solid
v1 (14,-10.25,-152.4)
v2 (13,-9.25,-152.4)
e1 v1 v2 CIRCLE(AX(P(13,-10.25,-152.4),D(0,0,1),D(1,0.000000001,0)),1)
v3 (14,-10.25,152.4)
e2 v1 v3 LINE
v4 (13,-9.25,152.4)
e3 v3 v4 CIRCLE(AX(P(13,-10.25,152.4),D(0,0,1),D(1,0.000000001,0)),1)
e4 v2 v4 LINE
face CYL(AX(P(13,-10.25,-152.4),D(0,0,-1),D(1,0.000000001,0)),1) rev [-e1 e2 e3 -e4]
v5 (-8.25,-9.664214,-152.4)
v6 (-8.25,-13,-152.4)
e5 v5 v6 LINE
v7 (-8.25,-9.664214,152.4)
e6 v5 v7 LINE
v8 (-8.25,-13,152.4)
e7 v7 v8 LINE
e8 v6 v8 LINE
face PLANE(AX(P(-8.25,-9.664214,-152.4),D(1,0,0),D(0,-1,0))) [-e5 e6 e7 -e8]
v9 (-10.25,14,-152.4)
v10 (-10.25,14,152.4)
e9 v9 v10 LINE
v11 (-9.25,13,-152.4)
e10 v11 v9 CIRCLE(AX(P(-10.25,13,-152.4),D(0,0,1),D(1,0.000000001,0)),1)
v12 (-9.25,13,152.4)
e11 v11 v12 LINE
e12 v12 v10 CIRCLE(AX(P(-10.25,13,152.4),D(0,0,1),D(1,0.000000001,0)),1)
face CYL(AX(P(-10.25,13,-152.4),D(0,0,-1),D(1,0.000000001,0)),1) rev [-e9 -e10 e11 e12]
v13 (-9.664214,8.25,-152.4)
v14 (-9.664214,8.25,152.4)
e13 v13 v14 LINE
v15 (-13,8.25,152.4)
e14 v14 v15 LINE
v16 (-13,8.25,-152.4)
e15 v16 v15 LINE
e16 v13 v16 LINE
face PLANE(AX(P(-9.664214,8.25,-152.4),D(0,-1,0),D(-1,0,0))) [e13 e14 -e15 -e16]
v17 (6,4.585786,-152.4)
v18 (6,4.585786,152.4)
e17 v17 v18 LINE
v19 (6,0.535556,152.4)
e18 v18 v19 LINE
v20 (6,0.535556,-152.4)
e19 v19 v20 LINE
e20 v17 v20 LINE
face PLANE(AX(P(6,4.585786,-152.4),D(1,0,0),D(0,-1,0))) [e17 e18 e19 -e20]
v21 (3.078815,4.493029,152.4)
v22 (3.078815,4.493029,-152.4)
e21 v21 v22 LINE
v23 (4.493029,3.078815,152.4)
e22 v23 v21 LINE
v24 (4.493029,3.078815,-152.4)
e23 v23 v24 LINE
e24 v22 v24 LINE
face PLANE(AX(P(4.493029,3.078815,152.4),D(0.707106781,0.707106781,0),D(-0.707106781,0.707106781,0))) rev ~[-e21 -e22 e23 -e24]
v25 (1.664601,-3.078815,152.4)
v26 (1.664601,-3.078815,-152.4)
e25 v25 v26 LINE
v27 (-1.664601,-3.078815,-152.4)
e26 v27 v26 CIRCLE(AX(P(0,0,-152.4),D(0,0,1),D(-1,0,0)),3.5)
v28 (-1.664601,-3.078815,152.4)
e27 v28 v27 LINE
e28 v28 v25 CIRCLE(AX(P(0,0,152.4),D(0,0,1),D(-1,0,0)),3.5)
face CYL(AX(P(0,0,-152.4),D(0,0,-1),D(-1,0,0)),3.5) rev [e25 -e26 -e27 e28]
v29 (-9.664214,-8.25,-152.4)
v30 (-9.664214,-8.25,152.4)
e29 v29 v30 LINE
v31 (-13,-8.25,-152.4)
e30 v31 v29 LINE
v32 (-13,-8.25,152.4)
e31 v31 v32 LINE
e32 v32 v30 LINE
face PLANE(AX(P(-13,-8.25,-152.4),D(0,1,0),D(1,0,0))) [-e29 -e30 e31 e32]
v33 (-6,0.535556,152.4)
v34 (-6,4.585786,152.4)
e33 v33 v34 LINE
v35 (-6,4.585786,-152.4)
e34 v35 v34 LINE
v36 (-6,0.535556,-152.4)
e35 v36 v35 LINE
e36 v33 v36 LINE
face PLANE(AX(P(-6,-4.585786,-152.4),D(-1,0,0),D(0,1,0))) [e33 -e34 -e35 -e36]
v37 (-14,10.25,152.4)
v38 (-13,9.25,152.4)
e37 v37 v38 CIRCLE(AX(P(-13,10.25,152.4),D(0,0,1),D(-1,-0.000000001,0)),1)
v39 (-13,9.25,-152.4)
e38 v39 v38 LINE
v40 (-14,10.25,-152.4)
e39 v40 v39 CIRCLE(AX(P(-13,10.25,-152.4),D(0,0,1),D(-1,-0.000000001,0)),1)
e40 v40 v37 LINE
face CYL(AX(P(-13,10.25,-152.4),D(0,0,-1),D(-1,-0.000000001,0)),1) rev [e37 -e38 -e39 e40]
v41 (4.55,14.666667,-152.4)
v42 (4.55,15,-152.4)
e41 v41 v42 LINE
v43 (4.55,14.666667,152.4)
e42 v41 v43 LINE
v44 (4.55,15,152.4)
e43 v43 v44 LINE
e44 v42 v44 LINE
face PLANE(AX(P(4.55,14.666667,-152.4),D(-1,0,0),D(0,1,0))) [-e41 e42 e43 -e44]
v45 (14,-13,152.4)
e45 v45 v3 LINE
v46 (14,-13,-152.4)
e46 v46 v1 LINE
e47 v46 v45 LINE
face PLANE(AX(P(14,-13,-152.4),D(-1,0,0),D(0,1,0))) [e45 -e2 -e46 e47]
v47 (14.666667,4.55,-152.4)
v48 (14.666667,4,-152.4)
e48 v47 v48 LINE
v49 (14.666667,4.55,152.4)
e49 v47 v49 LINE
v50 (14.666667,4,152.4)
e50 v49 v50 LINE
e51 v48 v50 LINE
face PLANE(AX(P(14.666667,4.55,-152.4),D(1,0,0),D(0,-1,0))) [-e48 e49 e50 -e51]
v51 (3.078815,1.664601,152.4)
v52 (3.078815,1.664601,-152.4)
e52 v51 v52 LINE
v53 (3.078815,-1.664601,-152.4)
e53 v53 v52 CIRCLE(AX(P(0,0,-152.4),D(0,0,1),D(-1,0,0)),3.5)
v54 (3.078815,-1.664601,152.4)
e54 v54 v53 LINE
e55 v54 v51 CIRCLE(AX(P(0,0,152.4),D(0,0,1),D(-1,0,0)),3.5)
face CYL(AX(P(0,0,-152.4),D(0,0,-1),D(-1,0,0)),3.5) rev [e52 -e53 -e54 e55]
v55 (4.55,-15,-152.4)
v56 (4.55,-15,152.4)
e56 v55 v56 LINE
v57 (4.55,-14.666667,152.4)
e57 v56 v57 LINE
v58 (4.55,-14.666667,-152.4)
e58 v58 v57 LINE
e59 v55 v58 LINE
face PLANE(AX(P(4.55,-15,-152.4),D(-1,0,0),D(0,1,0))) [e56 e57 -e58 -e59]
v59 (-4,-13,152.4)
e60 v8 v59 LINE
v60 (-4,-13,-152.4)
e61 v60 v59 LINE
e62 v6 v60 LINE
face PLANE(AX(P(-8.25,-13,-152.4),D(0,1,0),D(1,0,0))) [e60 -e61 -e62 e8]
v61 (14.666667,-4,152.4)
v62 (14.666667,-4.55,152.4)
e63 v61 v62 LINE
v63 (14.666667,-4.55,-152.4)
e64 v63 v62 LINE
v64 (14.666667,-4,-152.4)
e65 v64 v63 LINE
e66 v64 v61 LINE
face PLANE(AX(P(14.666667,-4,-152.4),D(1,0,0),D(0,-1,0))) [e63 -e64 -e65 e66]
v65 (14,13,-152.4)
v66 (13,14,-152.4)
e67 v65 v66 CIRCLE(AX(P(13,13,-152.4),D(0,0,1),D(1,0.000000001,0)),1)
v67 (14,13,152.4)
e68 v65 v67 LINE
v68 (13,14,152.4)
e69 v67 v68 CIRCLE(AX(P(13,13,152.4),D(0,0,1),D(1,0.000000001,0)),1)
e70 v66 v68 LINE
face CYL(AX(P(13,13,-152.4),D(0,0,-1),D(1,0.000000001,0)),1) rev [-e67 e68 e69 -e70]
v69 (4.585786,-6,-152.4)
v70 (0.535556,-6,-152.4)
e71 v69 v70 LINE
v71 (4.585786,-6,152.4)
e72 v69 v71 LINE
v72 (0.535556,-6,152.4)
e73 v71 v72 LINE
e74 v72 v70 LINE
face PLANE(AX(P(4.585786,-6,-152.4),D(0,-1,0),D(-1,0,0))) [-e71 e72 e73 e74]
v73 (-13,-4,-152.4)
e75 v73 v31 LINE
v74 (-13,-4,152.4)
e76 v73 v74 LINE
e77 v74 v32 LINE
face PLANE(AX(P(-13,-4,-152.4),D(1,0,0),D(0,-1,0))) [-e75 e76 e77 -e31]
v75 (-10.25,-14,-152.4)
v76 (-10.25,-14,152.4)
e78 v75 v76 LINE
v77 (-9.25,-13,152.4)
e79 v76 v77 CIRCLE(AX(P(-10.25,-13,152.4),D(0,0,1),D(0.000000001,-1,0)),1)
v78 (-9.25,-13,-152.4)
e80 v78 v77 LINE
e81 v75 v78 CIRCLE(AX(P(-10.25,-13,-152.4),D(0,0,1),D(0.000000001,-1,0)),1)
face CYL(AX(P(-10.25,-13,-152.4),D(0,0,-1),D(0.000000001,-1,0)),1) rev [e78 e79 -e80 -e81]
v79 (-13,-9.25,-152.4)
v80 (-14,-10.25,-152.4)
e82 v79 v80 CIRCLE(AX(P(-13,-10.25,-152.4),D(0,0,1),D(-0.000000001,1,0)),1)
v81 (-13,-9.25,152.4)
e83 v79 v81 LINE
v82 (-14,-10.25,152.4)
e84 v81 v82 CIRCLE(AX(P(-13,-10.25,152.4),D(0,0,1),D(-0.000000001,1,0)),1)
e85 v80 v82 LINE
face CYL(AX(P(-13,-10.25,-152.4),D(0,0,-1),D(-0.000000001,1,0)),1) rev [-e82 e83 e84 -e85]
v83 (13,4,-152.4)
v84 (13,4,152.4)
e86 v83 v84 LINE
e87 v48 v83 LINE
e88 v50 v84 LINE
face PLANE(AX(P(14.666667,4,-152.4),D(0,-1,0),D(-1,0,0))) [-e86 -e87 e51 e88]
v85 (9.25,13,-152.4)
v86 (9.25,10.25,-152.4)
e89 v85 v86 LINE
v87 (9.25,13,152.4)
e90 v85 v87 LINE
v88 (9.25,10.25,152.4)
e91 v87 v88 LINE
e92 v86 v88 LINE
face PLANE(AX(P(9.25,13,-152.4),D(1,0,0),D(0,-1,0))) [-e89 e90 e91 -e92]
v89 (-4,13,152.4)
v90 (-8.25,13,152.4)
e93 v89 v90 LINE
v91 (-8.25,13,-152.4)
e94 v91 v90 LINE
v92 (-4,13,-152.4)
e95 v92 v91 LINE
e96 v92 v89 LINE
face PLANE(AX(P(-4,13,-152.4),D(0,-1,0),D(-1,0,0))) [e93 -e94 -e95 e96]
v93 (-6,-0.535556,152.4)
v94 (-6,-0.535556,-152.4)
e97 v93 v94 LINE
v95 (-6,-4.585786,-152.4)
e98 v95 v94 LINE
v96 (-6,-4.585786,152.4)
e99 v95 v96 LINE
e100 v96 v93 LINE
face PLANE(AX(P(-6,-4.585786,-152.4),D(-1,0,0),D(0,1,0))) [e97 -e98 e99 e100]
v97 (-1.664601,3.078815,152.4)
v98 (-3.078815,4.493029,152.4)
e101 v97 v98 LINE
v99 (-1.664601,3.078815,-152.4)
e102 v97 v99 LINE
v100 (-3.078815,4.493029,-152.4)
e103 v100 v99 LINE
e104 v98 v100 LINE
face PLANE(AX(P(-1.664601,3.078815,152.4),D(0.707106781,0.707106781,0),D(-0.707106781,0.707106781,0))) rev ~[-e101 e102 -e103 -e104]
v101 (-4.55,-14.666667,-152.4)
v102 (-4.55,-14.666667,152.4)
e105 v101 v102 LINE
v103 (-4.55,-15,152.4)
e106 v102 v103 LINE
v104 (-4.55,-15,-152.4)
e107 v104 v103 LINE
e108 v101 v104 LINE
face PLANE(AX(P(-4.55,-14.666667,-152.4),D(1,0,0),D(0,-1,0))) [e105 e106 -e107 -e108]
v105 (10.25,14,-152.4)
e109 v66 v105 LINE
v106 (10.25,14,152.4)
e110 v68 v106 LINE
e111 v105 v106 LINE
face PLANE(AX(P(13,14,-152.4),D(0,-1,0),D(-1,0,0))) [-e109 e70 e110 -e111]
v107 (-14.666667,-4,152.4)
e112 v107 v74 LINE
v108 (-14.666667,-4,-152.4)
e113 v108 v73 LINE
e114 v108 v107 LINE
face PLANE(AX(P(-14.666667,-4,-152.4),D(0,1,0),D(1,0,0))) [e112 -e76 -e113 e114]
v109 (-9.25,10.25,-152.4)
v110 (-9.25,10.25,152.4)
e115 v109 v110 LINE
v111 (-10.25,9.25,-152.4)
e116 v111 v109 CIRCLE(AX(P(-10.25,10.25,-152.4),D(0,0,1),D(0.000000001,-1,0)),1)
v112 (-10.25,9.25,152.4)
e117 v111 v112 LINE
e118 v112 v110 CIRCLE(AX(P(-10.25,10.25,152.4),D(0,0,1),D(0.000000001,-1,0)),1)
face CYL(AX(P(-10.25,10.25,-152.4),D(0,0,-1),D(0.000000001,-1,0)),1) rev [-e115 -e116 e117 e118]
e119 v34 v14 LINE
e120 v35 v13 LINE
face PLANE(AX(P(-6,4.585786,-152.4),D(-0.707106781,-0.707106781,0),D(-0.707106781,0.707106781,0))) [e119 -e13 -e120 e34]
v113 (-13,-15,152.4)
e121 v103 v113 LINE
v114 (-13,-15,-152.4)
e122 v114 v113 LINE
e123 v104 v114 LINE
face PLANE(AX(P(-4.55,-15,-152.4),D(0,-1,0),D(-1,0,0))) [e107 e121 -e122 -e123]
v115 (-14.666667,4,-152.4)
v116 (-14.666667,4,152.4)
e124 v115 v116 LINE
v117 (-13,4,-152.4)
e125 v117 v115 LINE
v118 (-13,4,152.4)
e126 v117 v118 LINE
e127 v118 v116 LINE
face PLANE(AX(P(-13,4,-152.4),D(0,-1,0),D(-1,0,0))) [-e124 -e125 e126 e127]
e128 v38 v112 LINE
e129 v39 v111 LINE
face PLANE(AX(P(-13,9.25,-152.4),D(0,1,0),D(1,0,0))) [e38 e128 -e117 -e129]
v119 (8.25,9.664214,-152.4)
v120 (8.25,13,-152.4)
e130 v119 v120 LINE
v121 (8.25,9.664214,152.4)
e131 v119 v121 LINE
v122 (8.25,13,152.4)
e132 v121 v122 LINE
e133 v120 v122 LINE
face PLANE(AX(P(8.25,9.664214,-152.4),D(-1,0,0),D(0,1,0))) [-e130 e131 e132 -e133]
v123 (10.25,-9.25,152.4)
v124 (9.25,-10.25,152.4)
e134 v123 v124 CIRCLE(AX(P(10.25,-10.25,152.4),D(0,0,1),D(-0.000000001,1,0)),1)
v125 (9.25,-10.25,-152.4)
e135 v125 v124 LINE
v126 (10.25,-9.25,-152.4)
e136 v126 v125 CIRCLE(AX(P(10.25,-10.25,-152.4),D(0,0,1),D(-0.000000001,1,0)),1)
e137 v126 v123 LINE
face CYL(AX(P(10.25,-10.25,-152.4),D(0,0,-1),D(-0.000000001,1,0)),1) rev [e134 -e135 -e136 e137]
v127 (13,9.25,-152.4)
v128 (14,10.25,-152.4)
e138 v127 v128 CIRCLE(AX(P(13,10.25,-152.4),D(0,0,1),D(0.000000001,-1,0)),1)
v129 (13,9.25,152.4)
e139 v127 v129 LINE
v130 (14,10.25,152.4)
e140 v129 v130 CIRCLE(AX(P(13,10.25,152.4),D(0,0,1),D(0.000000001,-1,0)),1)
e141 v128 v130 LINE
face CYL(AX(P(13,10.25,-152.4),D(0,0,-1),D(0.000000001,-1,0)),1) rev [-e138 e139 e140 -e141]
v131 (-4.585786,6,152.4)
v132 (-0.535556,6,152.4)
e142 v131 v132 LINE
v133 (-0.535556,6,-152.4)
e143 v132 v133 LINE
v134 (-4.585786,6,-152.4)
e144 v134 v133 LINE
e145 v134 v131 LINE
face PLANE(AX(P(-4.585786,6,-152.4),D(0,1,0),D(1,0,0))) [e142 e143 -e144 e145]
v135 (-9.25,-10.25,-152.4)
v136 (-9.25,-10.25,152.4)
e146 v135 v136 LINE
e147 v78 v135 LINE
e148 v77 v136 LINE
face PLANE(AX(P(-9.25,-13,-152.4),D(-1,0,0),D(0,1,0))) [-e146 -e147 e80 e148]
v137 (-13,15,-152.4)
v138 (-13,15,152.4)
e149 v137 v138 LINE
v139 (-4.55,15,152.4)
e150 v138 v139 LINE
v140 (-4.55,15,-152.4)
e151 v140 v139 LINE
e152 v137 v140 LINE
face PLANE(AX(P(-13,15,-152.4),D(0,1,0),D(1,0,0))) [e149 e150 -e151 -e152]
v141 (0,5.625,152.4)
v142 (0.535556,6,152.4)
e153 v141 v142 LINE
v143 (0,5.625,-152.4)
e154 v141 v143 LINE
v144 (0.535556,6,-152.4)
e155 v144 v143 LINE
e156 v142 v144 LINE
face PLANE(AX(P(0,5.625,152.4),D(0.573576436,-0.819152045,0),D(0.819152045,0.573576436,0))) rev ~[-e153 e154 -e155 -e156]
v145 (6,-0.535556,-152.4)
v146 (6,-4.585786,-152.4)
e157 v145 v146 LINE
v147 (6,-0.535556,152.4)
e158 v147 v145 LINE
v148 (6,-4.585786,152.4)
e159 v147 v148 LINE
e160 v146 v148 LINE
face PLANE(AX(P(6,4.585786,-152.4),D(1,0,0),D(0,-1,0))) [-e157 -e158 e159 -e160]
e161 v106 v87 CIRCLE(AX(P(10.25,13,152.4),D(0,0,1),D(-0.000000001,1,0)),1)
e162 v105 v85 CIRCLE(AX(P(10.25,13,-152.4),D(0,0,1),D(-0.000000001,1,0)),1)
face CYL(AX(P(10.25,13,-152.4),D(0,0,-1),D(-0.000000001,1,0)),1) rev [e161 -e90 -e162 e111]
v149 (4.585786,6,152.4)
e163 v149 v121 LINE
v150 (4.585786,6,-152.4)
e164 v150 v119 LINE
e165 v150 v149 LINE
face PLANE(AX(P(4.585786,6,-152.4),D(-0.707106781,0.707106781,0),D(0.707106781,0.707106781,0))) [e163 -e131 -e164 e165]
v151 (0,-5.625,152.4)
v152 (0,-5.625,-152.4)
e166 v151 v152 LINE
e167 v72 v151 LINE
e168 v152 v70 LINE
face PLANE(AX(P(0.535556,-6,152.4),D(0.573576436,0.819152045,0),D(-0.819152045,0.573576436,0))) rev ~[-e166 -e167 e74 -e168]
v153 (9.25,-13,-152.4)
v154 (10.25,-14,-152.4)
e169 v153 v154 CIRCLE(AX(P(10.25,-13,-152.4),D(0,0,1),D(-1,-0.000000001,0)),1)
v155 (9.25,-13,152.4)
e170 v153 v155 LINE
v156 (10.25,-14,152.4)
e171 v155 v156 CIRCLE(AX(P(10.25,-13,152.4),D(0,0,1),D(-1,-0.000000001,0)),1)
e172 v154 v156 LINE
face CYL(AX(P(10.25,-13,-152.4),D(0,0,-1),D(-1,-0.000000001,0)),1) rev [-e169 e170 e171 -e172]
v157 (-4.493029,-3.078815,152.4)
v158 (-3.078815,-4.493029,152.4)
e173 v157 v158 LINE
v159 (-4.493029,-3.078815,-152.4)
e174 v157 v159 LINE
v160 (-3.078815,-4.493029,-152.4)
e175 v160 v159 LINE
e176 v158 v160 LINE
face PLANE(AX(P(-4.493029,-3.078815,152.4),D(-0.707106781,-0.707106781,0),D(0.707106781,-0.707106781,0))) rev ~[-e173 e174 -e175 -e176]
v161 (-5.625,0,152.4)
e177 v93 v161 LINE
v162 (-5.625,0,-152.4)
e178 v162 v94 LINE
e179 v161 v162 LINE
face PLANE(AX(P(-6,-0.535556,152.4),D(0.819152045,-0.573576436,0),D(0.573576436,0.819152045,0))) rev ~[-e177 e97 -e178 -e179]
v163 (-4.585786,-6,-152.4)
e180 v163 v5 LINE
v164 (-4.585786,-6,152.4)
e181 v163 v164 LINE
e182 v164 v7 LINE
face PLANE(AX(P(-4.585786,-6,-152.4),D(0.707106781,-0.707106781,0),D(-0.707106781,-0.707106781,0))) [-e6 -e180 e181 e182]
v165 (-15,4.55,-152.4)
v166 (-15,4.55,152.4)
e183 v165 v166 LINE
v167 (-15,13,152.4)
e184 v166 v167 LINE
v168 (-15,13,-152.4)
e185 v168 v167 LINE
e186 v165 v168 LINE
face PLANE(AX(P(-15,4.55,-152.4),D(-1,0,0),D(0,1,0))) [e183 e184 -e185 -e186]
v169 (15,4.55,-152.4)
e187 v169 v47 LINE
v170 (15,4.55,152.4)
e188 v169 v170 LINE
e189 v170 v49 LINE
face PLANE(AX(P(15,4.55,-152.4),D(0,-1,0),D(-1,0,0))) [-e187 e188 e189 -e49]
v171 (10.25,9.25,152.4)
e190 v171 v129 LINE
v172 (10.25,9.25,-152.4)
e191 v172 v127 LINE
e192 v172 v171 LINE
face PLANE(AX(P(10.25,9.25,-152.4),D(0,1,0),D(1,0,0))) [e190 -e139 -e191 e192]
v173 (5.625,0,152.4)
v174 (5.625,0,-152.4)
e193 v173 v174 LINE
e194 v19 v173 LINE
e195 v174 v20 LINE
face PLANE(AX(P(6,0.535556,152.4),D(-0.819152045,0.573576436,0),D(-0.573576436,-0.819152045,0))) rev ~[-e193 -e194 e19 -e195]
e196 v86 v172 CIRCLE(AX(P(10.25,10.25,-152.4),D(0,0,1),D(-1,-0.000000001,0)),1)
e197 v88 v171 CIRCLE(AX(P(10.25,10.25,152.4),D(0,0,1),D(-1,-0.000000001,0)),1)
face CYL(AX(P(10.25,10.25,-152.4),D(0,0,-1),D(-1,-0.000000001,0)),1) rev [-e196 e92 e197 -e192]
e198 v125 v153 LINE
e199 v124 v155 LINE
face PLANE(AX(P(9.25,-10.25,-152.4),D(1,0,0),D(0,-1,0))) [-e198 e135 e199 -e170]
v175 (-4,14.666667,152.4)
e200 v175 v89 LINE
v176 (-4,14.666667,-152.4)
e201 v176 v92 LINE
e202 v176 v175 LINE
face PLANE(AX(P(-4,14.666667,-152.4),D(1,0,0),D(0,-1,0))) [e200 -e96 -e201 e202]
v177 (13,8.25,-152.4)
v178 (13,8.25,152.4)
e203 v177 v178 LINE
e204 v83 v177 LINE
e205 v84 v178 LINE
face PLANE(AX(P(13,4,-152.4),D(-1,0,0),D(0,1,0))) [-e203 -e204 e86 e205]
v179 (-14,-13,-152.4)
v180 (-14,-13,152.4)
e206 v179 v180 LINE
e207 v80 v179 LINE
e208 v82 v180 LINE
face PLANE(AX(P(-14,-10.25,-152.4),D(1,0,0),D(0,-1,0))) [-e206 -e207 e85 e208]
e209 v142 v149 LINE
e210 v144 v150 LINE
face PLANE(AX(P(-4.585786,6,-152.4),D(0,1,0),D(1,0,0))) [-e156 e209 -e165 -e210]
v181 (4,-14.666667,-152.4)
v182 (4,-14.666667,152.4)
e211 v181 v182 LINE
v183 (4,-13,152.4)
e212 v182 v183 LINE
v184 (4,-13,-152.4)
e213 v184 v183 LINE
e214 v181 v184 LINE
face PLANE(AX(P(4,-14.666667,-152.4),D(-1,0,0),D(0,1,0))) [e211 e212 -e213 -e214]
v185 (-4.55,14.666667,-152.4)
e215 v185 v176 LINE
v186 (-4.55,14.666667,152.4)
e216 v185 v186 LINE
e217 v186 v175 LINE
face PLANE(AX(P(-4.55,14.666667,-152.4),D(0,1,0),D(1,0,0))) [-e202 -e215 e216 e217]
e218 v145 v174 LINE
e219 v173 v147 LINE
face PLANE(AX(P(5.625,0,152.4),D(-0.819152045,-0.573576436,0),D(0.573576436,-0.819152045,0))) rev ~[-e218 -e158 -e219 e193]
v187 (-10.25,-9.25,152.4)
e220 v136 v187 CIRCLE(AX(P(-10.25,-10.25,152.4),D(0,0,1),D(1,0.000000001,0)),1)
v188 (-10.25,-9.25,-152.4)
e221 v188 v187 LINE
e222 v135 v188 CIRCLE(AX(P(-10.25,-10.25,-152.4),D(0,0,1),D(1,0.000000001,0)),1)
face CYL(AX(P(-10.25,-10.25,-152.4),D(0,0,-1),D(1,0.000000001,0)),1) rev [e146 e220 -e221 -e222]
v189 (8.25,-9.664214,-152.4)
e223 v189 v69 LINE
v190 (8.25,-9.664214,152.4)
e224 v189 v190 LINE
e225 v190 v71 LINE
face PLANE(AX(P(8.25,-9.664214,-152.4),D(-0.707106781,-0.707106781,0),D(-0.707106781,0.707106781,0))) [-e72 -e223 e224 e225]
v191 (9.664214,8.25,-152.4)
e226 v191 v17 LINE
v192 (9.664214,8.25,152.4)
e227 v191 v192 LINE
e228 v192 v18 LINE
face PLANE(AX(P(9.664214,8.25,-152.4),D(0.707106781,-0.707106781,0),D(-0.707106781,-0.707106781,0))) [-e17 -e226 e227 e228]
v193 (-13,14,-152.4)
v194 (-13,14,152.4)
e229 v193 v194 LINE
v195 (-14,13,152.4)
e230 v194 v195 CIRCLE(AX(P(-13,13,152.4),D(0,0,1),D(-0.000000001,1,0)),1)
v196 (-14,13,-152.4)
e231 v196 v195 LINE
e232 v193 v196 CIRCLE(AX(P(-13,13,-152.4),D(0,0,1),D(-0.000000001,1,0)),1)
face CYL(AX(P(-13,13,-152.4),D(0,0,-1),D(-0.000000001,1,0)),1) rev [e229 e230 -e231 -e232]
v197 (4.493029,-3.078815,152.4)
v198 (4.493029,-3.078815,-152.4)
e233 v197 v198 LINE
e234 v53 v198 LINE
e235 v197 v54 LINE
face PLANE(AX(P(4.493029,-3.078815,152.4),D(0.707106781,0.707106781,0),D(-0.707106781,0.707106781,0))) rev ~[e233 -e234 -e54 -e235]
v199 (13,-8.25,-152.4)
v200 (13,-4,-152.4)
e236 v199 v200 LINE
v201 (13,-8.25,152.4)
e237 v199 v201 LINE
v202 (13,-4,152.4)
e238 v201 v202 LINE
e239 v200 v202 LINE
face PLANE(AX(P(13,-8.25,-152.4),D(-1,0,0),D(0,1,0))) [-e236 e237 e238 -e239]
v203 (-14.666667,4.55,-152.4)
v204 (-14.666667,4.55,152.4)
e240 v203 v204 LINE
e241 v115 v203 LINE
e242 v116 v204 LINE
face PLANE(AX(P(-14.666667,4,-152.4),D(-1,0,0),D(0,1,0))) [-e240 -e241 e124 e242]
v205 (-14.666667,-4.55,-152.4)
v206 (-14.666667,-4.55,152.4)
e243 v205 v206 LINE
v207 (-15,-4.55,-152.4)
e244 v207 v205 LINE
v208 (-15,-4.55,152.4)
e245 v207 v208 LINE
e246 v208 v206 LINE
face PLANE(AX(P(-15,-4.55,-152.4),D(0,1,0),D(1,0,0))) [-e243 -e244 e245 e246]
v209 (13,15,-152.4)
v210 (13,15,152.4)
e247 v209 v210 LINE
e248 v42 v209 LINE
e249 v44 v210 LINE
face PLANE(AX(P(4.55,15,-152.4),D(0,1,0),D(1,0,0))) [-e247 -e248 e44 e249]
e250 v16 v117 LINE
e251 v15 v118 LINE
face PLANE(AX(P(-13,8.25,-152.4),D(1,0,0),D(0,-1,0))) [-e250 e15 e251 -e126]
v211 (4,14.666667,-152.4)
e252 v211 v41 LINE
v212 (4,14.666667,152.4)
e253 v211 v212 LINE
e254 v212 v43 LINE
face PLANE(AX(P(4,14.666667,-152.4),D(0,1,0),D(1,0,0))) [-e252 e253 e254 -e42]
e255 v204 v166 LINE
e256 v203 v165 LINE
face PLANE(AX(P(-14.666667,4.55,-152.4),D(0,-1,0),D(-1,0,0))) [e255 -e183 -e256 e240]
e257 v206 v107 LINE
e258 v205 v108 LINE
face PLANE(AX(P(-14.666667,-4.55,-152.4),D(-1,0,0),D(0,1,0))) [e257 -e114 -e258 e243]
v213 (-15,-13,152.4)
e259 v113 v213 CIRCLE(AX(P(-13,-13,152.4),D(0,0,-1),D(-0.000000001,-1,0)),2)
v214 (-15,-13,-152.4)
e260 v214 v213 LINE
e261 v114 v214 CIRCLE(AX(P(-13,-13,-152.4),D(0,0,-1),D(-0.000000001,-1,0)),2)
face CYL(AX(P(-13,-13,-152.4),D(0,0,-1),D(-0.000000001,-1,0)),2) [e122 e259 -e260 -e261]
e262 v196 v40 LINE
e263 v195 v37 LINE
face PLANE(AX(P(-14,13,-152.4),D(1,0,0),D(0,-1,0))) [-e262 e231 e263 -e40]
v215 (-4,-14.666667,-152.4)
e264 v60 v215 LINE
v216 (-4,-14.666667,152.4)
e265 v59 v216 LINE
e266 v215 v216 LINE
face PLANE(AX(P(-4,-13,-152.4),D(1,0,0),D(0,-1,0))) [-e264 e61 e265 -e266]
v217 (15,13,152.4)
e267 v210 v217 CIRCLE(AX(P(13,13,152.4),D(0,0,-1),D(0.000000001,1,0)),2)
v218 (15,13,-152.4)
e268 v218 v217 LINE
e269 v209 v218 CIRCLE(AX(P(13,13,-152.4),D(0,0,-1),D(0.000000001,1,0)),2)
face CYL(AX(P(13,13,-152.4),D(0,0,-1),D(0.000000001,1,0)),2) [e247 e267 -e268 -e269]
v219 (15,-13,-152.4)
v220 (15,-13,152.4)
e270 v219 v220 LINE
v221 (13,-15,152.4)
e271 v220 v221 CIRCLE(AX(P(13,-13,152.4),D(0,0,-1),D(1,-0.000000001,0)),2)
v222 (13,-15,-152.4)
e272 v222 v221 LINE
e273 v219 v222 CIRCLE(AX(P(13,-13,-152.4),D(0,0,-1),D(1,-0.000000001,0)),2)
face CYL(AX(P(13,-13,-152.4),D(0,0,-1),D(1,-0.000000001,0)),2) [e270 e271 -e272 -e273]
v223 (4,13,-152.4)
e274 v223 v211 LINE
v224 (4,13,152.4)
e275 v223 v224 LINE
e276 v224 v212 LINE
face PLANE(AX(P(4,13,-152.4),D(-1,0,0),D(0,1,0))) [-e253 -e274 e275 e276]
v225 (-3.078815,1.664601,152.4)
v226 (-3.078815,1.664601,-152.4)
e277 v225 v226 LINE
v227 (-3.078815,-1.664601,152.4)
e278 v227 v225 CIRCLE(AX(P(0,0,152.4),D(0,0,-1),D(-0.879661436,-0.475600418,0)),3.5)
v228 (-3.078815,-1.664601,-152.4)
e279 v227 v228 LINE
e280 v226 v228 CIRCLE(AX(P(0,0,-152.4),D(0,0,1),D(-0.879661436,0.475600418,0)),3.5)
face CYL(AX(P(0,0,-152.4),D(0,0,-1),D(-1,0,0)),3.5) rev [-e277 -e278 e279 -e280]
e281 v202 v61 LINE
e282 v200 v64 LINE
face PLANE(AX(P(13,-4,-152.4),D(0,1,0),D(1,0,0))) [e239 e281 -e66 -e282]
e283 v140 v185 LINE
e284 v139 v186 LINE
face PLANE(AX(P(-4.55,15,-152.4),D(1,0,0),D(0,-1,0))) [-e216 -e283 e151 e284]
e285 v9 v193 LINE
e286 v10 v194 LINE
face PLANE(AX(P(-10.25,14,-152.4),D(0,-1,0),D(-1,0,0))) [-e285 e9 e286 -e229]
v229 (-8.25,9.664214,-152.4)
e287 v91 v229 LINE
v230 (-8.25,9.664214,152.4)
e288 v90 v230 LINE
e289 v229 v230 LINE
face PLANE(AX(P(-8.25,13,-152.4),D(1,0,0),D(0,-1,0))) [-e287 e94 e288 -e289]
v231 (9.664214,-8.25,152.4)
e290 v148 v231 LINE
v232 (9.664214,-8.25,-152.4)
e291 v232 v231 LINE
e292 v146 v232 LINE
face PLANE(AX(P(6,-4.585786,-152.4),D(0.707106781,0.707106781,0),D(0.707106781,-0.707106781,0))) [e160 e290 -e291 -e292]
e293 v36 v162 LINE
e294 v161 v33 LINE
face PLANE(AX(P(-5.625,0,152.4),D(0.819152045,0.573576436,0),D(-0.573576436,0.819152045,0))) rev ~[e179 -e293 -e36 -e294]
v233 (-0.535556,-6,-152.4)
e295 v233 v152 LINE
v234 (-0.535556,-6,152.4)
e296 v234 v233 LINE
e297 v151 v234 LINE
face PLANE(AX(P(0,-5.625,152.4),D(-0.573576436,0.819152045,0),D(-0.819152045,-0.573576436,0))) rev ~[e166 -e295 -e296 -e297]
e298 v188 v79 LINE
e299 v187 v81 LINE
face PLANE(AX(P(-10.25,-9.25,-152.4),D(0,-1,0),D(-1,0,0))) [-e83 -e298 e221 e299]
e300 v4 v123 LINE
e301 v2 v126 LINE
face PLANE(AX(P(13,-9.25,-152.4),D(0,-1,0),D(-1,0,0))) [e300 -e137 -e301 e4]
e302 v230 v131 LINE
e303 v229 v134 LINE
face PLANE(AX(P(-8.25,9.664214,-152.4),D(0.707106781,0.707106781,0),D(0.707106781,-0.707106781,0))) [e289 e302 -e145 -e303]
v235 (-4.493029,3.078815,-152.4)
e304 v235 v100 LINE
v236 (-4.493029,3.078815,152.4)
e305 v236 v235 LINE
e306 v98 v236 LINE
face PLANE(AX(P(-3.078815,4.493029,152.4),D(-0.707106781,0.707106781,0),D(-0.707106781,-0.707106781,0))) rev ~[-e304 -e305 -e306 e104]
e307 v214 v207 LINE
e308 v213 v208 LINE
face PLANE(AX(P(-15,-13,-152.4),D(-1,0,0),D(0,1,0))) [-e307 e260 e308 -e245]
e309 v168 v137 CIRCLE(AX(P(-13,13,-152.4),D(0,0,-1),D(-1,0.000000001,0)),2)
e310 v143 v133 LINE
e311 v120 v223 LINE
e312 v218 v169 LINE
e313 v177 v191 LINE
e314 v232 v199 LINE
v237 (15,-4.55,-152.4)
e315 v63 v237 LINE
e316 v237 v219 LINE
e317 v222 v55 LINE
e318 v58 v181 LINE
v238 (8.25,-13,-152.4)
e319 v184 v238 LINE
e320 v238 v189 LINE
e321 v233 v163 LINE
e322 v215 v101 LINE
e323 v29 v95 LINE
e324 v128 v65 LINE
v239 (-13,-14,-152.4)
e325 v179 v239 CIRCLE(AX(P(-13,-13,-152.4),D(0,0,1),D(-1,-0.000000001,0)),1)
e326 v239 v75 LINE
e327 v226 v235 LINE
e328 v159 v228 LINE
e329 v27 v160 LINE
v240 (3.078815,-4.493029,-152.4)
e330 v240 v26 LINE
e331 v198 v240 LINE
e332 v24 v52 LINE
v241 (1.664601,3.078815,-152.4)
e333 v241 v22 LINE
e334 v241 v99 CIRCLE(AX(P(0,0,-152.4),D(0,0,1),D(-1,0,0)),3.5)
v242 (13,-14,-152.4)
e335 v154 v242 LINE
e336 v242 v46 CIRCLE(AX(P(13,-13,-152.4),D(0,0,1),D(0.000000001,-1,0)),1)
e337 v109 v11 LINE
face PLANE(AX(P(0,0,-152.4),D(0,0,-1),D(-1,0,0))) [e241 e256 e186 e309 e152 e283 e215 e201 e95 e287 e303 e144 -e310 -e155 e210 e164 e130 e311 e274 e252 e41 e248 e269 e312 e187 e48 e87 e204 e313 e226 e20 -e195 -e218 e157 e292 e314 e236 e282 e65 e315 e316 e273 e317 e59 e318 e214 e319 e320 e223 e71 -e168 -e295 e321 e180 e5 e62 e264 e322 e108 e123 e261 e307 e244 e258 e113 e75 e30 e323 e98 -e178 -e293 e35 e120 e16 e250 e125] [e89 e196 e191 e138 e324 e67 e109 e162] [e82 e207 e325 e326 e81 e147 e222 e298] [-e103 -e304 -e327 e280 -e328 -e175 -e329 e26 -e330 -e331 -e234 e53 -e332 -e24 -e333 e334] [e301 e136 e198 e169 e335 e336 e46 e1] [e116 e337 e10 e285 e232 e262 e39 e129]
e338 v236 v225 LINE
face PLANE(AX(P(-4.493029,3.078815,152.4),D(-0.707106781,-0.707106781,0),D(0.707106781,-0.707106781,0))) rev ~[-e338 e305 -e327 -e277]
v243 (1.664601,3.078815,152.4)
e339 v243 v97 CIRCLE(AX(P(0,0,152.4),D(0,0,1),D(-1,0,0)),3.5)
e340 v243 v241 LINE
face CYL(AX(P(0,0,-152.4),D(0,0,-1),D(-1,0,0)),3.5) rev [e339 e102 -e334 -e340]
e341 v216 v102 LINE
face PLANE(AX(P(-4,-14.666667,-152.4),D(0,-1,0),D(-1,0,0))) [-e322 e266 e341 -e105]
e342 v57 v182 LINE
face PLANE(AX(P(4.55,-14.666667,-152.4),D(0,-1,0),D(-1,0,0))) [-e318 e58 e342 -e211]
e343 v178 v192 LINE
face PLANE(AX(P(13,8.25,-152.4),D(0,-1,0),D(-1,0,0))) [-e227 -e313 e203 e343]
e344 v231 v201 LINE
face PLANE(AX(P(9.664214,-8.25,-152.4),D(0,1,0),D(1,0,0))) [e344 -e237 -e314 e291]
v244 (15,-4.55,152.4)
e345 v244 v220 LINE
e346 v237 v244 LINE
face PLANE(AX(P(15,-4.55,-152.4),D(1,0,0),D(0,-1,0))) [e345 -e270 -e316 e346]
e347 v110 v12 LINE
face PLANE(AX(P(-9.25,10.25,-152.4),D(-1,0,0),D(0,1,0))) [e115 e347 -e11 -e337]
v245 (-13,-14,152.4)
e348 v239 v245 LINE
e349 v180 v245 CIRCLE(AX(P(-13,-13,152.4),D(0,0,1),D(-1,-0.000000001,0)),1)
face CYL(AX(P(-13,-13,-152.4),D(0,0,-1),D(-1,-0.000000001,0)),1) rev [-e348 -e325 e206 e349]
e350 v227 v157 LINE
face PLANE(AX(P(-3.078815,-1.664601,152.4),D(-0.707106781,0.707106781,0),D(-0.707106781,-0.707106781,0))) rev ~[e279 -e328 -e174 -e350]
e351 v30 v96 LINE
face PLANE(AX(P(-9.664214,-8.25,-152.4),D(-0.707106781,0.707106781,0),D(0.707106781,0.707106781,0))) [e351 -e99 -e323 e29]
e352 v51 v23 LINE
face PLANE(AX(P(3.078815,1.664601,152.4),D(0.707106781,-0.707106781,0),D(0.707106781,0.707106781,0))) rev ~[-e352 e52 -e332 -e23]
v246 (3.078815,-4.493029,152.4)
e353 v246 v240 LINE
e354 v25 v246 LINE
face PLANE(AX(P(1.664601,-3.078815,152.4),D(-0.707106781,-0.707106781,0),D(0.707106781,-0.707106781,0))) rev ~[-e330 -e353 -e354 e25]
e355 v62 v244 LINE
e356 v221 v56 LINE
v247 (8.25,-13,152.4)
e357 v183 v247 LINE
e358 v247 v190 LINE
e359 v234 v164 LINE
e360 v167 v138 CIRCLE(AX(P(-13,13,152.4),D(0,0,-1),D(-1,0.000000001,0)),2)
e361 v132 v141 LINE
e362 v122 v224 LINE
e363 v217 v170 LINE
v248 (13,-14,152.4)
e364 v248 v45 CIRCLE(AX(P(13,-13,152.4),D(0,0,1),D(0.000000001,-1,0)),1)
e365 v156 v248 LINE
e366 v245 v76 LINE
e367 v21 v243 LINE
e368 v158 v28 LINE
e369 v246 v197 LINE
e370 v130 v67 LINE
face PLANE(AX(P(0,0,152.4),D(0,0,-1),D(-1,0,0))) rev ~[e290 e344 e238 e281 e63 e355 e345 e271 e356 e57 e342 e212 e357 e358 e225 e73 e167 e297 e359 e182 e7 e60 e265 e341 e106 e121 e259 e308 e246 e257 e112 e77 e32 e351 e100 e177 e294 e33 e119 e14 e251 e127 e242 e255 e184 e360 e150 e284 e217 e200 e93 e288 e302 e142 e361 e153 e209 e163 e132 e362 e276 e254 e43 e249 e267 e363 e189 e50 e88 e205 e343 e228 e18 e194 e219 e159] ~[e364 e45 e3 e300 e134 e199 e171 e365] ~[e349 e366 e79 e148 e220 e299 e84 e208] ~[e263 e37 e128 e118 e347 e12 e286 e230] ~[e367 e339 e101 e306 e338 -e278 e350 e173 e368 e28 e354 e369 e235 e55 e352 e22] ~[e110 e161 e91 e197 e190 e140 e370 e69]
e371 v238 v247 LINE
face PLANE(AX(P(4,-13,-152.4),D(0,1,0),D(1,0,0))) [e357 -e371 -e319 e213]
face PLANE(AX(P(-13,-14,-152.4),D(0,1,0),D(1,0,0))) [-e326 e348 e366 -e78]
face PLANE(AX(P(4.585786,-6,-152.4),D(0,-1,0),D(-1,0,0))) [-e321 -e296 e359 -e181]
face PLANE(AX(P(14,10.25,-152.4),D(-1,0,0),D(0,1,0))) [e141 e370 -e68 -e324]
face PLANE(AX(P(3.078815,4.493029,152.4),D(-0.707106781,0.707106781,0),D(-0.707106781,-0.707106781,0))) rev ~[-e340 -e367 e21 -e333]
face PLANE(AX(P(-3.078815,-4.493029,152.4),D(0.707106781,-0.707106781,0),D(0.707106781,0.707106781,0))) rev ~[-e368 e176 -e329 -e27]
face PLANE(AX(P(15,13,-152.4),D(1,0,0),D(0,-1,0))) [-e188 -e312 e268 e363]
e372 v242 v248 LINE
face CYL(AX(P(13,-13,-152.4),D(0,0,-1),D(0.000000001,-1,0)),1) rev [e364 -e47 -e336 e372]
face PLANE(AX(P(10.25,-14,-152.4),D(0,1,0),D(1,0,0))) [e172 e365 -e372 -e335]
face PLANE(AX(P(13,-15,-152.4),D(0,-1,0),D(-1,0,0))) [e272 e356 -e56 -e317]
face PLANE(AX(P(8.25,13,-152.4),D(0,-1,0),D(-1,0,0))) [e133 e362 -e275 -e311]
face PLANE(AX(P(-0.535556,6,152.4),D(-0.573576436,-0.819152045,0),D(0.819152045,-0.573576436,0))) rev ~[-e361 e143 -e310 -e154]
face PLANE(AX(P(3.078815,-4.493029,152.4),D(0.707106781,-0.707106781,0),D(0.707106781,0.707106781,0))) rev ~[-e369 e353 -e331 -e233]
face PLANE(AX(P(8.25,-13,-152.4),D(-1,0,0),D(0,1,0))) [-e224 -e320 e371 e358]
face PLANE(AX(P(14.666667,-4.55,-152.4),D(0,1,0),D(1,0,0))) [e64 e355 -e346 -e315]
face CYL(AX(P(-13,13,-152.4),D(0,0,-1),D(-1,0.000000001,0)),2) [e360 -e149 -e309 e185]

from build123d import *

# Parameters (mm, degrees)
BOSS_EXTRUDE1_DEPTH      = 152.4
BOSS_EXTRUDE1_DEPTH_BACK = 152.4
SKETCH3_R                = 3.5
CUT_EXTRUDE1_DEPTH       = 306.537297232


with BuildPart() as part:
    # Sketch3 → Boss-Extrude1 (new, two sides: drawn at the far end of the back side and taken through both)
    with BuildSketch(Plane.XY.offset(-BOSS_EXTRUDE1_DEPTH_BACK)):
        with BuildLine():
            Line((-4.55, 15), (-4.55, 14.666666667))
            Line((-4.55, 14.666666667), (-4, 14.666666667))
            Line((-4, 14.666666667), (-4, 13))
            Line((-4, 13), (-8.25, 13))
            Line((-8.25, 13), (-8.25, 9.664213562))
            Line((-8.25, 9.664213562), (-4.585786438, 6))
            Line((-4.585786438, 6), (4.585786438, 6))
            Line((4.585786438, 6), (8.25, 9.664213562))
            Line((8.25, 9.664213562), (8.25, 13))
            Line((8.25, 13), (4, 13))
            Line((4, 13), (4, 14.666666667))
            Line((4, 14.666666667), (4.55, 14.666666667))
            Line((4.55, 14.666666667), (4.55, 15))
            Line((4.55, 15), (13, 15))
            ThreePointArc((13, 15), (14.414213562, 14.414213562), (15, 13))
            Line((15, 13), (15, 4.55))
            Line((15, 4.55), (14.666666667, 4.55))
            Line((14.666666667, 4.55), (14.666666667, 4))
            Line((14.666666667, 4), (13, 4))
            Line((13, 4), (13, 8.25))
            Line((13, 8.25), (9.664213562, 8.25))
            Line((9.664213562, 8.25), (6, 4.585786438))
            Line((6, 4.585786438), (6, -4.585786438))
            Line((6, -4.585786438), (9.664213562, -8.25))
            Line((9.664213562, -8.25), (13, -8.25))
            Line((13, -8.25), (13, -4))
            Line((13, -4), (14.666666667, -4))
            Line((14.666666667, -4), (14.666666667, -4.55))
            Line((14.666666667, -4.55), (15, -4.55))
            Line((15, -4.55), (15, -13))
            ThreePointArc((15, -13), (14.414213562, -14.414213562), (13, -15))
            Line((13, -15), (4.55, -15))
            Line((4.55, -15), (4.55, -14.666666667))
            Line((4.55, -14.666666667), (4, -14.666666667))
            Line((4, -14.666666667), (4, -13))
            Line((4, -13), (8.25, -13))
            Line((8.25, -13), (8.25, -9.664213562))
            Line((8.25, -9.664213562), (4.585786438, -6))
            Line((4.585786438, -6), (-4.585786438, -6))
            Line((-4.585786438, -6), (-8.25, -9.664213562))
            Line((-8.25, -9.664213562), (-8.25, -13))
            Line((-8.25, -13), (-4, -13))
            Line((-4, -13), (-4, -14.666666667))
            Line((-4, -14.666666667), (-4.55, -14.666666667))
            Line((-4.55, -14.666666667), (-4.55, -15))
            Line((-4.55, -15), (-13, -15))
            ThreePointArc((-13, -15), (-14.414213562, -14.414213562), (-15, -13))
            Line((-15, -13), (-15, -4.55))
            Line((-15, -4.55), (-14.666666667, -4.55))
            Line((-14.666666667, -4.55), (-14.666666667, -4))
            Line((-14.666666667, -4), (-13, -4))
            Line((-13, -4), (-13, -8.25))
            Line((-13, -8.25), (-9.664213562, -8.25))
            Line((-9.664213562, -8.25), (-6, -4.585786438))
            Line((-6, -4.585786438), (-6, 4.585786438))
            Line((-6, 4.585786438), (-9.664213562, 8.25))
            Line((-9.664213562, 8.25), (-13, 8.25))
            Line((-13, 8.25), (-13, 4))
            Line((-13, 4), (-14.666666667, 4))
            Line((-14.666666667, 4), (-14.666666667, 4.55))
            Line((-14.666666667, 4.55), (-15, 4.55))
            Line((-15, 4.55), (-15, 13))
            ThreePointArc((-15, 13), (-14.414213562, 14.414213562), (-13, 15))
            Line((-13, 15), (-4.55, 15))
        make_face()
        with Locations(Location((0, 0, 0), (0, 0, 180))):
            Circle(SKETCH3_R, mode=Mode.SUBTRACT)
        with BuildLine():
            Line((-13, 9.25), (-10.25, 9.25))
            ThreePointArc((-10.25, 9.25), (-9.542893219, 9.542893219), (-9.25, 10.25))
            Line((-9.25, 10.25), (-9.25, 13))
            ThreePointArc((-9.25, 13), (-9.542893219, 13.707106781), (-10.25, 14))
            Line((-10.25, 14), (-13, 14))
            ThreePointArc((-13, 14), (-13.707106781, 13.707106781), (-14, 13))
            Line((-14, 13), (-14, 10.25))
            ThreePointArc((-14, 10.25), (-13.707106781, 9.542893219), (-13, 9.25))
        make_face(mode=Mode.SUBTRACT)
        with BuildLine():
            Line((9.25, 13), (9.25, 10.25))
            ThreePointArc((9.25, 10.25), (9.542893219, 9.542893219), (10.25, 9.25))
            Line((10.25, 9.25), (13, 9.25))
            ThreePointArc((13, 9.25), (13.707106781, 9.542893219), (14, 10.25))
            Line((14, 10.25), (14, 13))
            ThreePointArc((14, 13), (13.707106781, 13.707106781), (13, 14))
            Line((13, 14), (10.25, 14))
            ThreePointArc((10.25, 14), (9.542893219, 13.707106781), (9.25, 13))
        make_face(mode=Mode.SUBTRACT)
        with BuildLine():
            Line((13, -9.25), (10.25, -9.25))
            ThreePointArc((10.25, -9.25), (9.542893219, -9.542893219), (9.25, -10.25))
            Line((9.25, -10.25), (9.25, -13))
            ThreePointArc((9.25, -13), (9.542893219, -13.707106781), (10.25, -14))
            Line((10.25, -14), (13, -14))
            ThreePointArc((13, -14), (13.707106781, -13.707106781), (14, -13))
            Line((14, -13), (14, -10.25))
            ThreePointArc((14, -10.25), (13.707106781, -9.542893219), (13, -9.25))
        make_face(mode=Mode.SUBTRACT)
        with BuildLine():
            Line((-9.25, -13), (-9.25, -10.25))
            ThreePointArc((-9.25, -10.25), (-9.542893219, -9.542893219), (-10.25, -9.25))
            Line((-10.25, -9.25), (-13, -9.25))
            ThreePointArc((-13, -9.25), (-13.707106781, -9.542893219), (-14, -10.25))
            Line((-14, -10.25), (-14, -13))
            ThreePointArc((-14, -13), (-13.707106781, -13.707106781), (-13, -14))
            Line((-13, -14), (-10.25, -14))
            ThreePointArc((-10.25, -14), (-9.542893219, -13.707106781), (-9.25, -13))
        make_face(mode=Mode.SUBTRACT)
    extrude(amount=BOSS_EXTRUDE1_DEPTH + BOSS_EXTRUDE1_DEPTH_BACK)

    # Sketch4 → Cut-Extrude1 (cut, through all)
    with BuildSketch(Plane.XY.offset(152.4)):
        Polygon((-0.535555503, 6), (0, 5.625), (0.535555503, 6), align=None)
        Polygon((6, 0.535555503), (5.625, 0), (6, -0.535555503), align=None)
        Polygon((0.535555503, -6), (0, -5.625), (-0.535555503, -6), align=None)
        Polygon((-6, -0.535555503), (-5.625, 0), (-6, 0.535555503), align=None)
        with BuildLine():
            Line((-4.493028589, 3.078815026), (-3.078815026, 1.664601464))
            ThreePointArc((-3.078815026, 1.664601464), (-2.474873734, 2.474873734), (-1.664601464, 3.078815026))
            Line((-1.664601464, 3.078815026), (-3.078815026, 4.493028589))
            Line((-3.078815026, 4.493028589), (-4.493028589, 3.078815026))
        make_face()
        with BuildLine():
            Line((3.078815026, 4.493028589), (1.664601464, 3.078815026))
            ThreePointArc((1.664601464, 3.078815026), (2.474873734, 2.474873734), (3.078815026, 1.664601464))
            Line((3.078815026, 1.664601464), (4.493028589, 3.078815026))
            Line((4.493028589, 3.078815026), (3.078815026, 4.493028589))
        make_face()
        with BuildLine():
            Line((4.493028589, -3.078815026), (3.078815026, -1.664601464))
            ThreePointArc((3.078815026, -1.664601464), (2.474873734, -2.474873734), (1.664601464, -3.078815026))
            Line((1.664601464, -3.078815026), (3.078815026, -4.493028589))
            Line((3.078815026, -4.493028589), (4.493028589, -3.078815026))
        make_face()
        with BuildLine():
            Line((-3.078815026, -4.493028589), (-1.664601464, -3.078815026))
            ThreePointArc((-1.664601464, -3.078815026), (-2.474873734, -2.474873734), (-3.078815026, -1.664601464))
            Line((-3.078815026, -1.664601464), (-4.493028589, -3.078815026))
            Line((-4.493028589, -3.078815026), (-3.078815026, -4.493028589))
        make_face()
    extrude(amount=-CUT_EXTRUDE1_DEPTH, mode=Mode.SUBTRACT)


solid = part.part
